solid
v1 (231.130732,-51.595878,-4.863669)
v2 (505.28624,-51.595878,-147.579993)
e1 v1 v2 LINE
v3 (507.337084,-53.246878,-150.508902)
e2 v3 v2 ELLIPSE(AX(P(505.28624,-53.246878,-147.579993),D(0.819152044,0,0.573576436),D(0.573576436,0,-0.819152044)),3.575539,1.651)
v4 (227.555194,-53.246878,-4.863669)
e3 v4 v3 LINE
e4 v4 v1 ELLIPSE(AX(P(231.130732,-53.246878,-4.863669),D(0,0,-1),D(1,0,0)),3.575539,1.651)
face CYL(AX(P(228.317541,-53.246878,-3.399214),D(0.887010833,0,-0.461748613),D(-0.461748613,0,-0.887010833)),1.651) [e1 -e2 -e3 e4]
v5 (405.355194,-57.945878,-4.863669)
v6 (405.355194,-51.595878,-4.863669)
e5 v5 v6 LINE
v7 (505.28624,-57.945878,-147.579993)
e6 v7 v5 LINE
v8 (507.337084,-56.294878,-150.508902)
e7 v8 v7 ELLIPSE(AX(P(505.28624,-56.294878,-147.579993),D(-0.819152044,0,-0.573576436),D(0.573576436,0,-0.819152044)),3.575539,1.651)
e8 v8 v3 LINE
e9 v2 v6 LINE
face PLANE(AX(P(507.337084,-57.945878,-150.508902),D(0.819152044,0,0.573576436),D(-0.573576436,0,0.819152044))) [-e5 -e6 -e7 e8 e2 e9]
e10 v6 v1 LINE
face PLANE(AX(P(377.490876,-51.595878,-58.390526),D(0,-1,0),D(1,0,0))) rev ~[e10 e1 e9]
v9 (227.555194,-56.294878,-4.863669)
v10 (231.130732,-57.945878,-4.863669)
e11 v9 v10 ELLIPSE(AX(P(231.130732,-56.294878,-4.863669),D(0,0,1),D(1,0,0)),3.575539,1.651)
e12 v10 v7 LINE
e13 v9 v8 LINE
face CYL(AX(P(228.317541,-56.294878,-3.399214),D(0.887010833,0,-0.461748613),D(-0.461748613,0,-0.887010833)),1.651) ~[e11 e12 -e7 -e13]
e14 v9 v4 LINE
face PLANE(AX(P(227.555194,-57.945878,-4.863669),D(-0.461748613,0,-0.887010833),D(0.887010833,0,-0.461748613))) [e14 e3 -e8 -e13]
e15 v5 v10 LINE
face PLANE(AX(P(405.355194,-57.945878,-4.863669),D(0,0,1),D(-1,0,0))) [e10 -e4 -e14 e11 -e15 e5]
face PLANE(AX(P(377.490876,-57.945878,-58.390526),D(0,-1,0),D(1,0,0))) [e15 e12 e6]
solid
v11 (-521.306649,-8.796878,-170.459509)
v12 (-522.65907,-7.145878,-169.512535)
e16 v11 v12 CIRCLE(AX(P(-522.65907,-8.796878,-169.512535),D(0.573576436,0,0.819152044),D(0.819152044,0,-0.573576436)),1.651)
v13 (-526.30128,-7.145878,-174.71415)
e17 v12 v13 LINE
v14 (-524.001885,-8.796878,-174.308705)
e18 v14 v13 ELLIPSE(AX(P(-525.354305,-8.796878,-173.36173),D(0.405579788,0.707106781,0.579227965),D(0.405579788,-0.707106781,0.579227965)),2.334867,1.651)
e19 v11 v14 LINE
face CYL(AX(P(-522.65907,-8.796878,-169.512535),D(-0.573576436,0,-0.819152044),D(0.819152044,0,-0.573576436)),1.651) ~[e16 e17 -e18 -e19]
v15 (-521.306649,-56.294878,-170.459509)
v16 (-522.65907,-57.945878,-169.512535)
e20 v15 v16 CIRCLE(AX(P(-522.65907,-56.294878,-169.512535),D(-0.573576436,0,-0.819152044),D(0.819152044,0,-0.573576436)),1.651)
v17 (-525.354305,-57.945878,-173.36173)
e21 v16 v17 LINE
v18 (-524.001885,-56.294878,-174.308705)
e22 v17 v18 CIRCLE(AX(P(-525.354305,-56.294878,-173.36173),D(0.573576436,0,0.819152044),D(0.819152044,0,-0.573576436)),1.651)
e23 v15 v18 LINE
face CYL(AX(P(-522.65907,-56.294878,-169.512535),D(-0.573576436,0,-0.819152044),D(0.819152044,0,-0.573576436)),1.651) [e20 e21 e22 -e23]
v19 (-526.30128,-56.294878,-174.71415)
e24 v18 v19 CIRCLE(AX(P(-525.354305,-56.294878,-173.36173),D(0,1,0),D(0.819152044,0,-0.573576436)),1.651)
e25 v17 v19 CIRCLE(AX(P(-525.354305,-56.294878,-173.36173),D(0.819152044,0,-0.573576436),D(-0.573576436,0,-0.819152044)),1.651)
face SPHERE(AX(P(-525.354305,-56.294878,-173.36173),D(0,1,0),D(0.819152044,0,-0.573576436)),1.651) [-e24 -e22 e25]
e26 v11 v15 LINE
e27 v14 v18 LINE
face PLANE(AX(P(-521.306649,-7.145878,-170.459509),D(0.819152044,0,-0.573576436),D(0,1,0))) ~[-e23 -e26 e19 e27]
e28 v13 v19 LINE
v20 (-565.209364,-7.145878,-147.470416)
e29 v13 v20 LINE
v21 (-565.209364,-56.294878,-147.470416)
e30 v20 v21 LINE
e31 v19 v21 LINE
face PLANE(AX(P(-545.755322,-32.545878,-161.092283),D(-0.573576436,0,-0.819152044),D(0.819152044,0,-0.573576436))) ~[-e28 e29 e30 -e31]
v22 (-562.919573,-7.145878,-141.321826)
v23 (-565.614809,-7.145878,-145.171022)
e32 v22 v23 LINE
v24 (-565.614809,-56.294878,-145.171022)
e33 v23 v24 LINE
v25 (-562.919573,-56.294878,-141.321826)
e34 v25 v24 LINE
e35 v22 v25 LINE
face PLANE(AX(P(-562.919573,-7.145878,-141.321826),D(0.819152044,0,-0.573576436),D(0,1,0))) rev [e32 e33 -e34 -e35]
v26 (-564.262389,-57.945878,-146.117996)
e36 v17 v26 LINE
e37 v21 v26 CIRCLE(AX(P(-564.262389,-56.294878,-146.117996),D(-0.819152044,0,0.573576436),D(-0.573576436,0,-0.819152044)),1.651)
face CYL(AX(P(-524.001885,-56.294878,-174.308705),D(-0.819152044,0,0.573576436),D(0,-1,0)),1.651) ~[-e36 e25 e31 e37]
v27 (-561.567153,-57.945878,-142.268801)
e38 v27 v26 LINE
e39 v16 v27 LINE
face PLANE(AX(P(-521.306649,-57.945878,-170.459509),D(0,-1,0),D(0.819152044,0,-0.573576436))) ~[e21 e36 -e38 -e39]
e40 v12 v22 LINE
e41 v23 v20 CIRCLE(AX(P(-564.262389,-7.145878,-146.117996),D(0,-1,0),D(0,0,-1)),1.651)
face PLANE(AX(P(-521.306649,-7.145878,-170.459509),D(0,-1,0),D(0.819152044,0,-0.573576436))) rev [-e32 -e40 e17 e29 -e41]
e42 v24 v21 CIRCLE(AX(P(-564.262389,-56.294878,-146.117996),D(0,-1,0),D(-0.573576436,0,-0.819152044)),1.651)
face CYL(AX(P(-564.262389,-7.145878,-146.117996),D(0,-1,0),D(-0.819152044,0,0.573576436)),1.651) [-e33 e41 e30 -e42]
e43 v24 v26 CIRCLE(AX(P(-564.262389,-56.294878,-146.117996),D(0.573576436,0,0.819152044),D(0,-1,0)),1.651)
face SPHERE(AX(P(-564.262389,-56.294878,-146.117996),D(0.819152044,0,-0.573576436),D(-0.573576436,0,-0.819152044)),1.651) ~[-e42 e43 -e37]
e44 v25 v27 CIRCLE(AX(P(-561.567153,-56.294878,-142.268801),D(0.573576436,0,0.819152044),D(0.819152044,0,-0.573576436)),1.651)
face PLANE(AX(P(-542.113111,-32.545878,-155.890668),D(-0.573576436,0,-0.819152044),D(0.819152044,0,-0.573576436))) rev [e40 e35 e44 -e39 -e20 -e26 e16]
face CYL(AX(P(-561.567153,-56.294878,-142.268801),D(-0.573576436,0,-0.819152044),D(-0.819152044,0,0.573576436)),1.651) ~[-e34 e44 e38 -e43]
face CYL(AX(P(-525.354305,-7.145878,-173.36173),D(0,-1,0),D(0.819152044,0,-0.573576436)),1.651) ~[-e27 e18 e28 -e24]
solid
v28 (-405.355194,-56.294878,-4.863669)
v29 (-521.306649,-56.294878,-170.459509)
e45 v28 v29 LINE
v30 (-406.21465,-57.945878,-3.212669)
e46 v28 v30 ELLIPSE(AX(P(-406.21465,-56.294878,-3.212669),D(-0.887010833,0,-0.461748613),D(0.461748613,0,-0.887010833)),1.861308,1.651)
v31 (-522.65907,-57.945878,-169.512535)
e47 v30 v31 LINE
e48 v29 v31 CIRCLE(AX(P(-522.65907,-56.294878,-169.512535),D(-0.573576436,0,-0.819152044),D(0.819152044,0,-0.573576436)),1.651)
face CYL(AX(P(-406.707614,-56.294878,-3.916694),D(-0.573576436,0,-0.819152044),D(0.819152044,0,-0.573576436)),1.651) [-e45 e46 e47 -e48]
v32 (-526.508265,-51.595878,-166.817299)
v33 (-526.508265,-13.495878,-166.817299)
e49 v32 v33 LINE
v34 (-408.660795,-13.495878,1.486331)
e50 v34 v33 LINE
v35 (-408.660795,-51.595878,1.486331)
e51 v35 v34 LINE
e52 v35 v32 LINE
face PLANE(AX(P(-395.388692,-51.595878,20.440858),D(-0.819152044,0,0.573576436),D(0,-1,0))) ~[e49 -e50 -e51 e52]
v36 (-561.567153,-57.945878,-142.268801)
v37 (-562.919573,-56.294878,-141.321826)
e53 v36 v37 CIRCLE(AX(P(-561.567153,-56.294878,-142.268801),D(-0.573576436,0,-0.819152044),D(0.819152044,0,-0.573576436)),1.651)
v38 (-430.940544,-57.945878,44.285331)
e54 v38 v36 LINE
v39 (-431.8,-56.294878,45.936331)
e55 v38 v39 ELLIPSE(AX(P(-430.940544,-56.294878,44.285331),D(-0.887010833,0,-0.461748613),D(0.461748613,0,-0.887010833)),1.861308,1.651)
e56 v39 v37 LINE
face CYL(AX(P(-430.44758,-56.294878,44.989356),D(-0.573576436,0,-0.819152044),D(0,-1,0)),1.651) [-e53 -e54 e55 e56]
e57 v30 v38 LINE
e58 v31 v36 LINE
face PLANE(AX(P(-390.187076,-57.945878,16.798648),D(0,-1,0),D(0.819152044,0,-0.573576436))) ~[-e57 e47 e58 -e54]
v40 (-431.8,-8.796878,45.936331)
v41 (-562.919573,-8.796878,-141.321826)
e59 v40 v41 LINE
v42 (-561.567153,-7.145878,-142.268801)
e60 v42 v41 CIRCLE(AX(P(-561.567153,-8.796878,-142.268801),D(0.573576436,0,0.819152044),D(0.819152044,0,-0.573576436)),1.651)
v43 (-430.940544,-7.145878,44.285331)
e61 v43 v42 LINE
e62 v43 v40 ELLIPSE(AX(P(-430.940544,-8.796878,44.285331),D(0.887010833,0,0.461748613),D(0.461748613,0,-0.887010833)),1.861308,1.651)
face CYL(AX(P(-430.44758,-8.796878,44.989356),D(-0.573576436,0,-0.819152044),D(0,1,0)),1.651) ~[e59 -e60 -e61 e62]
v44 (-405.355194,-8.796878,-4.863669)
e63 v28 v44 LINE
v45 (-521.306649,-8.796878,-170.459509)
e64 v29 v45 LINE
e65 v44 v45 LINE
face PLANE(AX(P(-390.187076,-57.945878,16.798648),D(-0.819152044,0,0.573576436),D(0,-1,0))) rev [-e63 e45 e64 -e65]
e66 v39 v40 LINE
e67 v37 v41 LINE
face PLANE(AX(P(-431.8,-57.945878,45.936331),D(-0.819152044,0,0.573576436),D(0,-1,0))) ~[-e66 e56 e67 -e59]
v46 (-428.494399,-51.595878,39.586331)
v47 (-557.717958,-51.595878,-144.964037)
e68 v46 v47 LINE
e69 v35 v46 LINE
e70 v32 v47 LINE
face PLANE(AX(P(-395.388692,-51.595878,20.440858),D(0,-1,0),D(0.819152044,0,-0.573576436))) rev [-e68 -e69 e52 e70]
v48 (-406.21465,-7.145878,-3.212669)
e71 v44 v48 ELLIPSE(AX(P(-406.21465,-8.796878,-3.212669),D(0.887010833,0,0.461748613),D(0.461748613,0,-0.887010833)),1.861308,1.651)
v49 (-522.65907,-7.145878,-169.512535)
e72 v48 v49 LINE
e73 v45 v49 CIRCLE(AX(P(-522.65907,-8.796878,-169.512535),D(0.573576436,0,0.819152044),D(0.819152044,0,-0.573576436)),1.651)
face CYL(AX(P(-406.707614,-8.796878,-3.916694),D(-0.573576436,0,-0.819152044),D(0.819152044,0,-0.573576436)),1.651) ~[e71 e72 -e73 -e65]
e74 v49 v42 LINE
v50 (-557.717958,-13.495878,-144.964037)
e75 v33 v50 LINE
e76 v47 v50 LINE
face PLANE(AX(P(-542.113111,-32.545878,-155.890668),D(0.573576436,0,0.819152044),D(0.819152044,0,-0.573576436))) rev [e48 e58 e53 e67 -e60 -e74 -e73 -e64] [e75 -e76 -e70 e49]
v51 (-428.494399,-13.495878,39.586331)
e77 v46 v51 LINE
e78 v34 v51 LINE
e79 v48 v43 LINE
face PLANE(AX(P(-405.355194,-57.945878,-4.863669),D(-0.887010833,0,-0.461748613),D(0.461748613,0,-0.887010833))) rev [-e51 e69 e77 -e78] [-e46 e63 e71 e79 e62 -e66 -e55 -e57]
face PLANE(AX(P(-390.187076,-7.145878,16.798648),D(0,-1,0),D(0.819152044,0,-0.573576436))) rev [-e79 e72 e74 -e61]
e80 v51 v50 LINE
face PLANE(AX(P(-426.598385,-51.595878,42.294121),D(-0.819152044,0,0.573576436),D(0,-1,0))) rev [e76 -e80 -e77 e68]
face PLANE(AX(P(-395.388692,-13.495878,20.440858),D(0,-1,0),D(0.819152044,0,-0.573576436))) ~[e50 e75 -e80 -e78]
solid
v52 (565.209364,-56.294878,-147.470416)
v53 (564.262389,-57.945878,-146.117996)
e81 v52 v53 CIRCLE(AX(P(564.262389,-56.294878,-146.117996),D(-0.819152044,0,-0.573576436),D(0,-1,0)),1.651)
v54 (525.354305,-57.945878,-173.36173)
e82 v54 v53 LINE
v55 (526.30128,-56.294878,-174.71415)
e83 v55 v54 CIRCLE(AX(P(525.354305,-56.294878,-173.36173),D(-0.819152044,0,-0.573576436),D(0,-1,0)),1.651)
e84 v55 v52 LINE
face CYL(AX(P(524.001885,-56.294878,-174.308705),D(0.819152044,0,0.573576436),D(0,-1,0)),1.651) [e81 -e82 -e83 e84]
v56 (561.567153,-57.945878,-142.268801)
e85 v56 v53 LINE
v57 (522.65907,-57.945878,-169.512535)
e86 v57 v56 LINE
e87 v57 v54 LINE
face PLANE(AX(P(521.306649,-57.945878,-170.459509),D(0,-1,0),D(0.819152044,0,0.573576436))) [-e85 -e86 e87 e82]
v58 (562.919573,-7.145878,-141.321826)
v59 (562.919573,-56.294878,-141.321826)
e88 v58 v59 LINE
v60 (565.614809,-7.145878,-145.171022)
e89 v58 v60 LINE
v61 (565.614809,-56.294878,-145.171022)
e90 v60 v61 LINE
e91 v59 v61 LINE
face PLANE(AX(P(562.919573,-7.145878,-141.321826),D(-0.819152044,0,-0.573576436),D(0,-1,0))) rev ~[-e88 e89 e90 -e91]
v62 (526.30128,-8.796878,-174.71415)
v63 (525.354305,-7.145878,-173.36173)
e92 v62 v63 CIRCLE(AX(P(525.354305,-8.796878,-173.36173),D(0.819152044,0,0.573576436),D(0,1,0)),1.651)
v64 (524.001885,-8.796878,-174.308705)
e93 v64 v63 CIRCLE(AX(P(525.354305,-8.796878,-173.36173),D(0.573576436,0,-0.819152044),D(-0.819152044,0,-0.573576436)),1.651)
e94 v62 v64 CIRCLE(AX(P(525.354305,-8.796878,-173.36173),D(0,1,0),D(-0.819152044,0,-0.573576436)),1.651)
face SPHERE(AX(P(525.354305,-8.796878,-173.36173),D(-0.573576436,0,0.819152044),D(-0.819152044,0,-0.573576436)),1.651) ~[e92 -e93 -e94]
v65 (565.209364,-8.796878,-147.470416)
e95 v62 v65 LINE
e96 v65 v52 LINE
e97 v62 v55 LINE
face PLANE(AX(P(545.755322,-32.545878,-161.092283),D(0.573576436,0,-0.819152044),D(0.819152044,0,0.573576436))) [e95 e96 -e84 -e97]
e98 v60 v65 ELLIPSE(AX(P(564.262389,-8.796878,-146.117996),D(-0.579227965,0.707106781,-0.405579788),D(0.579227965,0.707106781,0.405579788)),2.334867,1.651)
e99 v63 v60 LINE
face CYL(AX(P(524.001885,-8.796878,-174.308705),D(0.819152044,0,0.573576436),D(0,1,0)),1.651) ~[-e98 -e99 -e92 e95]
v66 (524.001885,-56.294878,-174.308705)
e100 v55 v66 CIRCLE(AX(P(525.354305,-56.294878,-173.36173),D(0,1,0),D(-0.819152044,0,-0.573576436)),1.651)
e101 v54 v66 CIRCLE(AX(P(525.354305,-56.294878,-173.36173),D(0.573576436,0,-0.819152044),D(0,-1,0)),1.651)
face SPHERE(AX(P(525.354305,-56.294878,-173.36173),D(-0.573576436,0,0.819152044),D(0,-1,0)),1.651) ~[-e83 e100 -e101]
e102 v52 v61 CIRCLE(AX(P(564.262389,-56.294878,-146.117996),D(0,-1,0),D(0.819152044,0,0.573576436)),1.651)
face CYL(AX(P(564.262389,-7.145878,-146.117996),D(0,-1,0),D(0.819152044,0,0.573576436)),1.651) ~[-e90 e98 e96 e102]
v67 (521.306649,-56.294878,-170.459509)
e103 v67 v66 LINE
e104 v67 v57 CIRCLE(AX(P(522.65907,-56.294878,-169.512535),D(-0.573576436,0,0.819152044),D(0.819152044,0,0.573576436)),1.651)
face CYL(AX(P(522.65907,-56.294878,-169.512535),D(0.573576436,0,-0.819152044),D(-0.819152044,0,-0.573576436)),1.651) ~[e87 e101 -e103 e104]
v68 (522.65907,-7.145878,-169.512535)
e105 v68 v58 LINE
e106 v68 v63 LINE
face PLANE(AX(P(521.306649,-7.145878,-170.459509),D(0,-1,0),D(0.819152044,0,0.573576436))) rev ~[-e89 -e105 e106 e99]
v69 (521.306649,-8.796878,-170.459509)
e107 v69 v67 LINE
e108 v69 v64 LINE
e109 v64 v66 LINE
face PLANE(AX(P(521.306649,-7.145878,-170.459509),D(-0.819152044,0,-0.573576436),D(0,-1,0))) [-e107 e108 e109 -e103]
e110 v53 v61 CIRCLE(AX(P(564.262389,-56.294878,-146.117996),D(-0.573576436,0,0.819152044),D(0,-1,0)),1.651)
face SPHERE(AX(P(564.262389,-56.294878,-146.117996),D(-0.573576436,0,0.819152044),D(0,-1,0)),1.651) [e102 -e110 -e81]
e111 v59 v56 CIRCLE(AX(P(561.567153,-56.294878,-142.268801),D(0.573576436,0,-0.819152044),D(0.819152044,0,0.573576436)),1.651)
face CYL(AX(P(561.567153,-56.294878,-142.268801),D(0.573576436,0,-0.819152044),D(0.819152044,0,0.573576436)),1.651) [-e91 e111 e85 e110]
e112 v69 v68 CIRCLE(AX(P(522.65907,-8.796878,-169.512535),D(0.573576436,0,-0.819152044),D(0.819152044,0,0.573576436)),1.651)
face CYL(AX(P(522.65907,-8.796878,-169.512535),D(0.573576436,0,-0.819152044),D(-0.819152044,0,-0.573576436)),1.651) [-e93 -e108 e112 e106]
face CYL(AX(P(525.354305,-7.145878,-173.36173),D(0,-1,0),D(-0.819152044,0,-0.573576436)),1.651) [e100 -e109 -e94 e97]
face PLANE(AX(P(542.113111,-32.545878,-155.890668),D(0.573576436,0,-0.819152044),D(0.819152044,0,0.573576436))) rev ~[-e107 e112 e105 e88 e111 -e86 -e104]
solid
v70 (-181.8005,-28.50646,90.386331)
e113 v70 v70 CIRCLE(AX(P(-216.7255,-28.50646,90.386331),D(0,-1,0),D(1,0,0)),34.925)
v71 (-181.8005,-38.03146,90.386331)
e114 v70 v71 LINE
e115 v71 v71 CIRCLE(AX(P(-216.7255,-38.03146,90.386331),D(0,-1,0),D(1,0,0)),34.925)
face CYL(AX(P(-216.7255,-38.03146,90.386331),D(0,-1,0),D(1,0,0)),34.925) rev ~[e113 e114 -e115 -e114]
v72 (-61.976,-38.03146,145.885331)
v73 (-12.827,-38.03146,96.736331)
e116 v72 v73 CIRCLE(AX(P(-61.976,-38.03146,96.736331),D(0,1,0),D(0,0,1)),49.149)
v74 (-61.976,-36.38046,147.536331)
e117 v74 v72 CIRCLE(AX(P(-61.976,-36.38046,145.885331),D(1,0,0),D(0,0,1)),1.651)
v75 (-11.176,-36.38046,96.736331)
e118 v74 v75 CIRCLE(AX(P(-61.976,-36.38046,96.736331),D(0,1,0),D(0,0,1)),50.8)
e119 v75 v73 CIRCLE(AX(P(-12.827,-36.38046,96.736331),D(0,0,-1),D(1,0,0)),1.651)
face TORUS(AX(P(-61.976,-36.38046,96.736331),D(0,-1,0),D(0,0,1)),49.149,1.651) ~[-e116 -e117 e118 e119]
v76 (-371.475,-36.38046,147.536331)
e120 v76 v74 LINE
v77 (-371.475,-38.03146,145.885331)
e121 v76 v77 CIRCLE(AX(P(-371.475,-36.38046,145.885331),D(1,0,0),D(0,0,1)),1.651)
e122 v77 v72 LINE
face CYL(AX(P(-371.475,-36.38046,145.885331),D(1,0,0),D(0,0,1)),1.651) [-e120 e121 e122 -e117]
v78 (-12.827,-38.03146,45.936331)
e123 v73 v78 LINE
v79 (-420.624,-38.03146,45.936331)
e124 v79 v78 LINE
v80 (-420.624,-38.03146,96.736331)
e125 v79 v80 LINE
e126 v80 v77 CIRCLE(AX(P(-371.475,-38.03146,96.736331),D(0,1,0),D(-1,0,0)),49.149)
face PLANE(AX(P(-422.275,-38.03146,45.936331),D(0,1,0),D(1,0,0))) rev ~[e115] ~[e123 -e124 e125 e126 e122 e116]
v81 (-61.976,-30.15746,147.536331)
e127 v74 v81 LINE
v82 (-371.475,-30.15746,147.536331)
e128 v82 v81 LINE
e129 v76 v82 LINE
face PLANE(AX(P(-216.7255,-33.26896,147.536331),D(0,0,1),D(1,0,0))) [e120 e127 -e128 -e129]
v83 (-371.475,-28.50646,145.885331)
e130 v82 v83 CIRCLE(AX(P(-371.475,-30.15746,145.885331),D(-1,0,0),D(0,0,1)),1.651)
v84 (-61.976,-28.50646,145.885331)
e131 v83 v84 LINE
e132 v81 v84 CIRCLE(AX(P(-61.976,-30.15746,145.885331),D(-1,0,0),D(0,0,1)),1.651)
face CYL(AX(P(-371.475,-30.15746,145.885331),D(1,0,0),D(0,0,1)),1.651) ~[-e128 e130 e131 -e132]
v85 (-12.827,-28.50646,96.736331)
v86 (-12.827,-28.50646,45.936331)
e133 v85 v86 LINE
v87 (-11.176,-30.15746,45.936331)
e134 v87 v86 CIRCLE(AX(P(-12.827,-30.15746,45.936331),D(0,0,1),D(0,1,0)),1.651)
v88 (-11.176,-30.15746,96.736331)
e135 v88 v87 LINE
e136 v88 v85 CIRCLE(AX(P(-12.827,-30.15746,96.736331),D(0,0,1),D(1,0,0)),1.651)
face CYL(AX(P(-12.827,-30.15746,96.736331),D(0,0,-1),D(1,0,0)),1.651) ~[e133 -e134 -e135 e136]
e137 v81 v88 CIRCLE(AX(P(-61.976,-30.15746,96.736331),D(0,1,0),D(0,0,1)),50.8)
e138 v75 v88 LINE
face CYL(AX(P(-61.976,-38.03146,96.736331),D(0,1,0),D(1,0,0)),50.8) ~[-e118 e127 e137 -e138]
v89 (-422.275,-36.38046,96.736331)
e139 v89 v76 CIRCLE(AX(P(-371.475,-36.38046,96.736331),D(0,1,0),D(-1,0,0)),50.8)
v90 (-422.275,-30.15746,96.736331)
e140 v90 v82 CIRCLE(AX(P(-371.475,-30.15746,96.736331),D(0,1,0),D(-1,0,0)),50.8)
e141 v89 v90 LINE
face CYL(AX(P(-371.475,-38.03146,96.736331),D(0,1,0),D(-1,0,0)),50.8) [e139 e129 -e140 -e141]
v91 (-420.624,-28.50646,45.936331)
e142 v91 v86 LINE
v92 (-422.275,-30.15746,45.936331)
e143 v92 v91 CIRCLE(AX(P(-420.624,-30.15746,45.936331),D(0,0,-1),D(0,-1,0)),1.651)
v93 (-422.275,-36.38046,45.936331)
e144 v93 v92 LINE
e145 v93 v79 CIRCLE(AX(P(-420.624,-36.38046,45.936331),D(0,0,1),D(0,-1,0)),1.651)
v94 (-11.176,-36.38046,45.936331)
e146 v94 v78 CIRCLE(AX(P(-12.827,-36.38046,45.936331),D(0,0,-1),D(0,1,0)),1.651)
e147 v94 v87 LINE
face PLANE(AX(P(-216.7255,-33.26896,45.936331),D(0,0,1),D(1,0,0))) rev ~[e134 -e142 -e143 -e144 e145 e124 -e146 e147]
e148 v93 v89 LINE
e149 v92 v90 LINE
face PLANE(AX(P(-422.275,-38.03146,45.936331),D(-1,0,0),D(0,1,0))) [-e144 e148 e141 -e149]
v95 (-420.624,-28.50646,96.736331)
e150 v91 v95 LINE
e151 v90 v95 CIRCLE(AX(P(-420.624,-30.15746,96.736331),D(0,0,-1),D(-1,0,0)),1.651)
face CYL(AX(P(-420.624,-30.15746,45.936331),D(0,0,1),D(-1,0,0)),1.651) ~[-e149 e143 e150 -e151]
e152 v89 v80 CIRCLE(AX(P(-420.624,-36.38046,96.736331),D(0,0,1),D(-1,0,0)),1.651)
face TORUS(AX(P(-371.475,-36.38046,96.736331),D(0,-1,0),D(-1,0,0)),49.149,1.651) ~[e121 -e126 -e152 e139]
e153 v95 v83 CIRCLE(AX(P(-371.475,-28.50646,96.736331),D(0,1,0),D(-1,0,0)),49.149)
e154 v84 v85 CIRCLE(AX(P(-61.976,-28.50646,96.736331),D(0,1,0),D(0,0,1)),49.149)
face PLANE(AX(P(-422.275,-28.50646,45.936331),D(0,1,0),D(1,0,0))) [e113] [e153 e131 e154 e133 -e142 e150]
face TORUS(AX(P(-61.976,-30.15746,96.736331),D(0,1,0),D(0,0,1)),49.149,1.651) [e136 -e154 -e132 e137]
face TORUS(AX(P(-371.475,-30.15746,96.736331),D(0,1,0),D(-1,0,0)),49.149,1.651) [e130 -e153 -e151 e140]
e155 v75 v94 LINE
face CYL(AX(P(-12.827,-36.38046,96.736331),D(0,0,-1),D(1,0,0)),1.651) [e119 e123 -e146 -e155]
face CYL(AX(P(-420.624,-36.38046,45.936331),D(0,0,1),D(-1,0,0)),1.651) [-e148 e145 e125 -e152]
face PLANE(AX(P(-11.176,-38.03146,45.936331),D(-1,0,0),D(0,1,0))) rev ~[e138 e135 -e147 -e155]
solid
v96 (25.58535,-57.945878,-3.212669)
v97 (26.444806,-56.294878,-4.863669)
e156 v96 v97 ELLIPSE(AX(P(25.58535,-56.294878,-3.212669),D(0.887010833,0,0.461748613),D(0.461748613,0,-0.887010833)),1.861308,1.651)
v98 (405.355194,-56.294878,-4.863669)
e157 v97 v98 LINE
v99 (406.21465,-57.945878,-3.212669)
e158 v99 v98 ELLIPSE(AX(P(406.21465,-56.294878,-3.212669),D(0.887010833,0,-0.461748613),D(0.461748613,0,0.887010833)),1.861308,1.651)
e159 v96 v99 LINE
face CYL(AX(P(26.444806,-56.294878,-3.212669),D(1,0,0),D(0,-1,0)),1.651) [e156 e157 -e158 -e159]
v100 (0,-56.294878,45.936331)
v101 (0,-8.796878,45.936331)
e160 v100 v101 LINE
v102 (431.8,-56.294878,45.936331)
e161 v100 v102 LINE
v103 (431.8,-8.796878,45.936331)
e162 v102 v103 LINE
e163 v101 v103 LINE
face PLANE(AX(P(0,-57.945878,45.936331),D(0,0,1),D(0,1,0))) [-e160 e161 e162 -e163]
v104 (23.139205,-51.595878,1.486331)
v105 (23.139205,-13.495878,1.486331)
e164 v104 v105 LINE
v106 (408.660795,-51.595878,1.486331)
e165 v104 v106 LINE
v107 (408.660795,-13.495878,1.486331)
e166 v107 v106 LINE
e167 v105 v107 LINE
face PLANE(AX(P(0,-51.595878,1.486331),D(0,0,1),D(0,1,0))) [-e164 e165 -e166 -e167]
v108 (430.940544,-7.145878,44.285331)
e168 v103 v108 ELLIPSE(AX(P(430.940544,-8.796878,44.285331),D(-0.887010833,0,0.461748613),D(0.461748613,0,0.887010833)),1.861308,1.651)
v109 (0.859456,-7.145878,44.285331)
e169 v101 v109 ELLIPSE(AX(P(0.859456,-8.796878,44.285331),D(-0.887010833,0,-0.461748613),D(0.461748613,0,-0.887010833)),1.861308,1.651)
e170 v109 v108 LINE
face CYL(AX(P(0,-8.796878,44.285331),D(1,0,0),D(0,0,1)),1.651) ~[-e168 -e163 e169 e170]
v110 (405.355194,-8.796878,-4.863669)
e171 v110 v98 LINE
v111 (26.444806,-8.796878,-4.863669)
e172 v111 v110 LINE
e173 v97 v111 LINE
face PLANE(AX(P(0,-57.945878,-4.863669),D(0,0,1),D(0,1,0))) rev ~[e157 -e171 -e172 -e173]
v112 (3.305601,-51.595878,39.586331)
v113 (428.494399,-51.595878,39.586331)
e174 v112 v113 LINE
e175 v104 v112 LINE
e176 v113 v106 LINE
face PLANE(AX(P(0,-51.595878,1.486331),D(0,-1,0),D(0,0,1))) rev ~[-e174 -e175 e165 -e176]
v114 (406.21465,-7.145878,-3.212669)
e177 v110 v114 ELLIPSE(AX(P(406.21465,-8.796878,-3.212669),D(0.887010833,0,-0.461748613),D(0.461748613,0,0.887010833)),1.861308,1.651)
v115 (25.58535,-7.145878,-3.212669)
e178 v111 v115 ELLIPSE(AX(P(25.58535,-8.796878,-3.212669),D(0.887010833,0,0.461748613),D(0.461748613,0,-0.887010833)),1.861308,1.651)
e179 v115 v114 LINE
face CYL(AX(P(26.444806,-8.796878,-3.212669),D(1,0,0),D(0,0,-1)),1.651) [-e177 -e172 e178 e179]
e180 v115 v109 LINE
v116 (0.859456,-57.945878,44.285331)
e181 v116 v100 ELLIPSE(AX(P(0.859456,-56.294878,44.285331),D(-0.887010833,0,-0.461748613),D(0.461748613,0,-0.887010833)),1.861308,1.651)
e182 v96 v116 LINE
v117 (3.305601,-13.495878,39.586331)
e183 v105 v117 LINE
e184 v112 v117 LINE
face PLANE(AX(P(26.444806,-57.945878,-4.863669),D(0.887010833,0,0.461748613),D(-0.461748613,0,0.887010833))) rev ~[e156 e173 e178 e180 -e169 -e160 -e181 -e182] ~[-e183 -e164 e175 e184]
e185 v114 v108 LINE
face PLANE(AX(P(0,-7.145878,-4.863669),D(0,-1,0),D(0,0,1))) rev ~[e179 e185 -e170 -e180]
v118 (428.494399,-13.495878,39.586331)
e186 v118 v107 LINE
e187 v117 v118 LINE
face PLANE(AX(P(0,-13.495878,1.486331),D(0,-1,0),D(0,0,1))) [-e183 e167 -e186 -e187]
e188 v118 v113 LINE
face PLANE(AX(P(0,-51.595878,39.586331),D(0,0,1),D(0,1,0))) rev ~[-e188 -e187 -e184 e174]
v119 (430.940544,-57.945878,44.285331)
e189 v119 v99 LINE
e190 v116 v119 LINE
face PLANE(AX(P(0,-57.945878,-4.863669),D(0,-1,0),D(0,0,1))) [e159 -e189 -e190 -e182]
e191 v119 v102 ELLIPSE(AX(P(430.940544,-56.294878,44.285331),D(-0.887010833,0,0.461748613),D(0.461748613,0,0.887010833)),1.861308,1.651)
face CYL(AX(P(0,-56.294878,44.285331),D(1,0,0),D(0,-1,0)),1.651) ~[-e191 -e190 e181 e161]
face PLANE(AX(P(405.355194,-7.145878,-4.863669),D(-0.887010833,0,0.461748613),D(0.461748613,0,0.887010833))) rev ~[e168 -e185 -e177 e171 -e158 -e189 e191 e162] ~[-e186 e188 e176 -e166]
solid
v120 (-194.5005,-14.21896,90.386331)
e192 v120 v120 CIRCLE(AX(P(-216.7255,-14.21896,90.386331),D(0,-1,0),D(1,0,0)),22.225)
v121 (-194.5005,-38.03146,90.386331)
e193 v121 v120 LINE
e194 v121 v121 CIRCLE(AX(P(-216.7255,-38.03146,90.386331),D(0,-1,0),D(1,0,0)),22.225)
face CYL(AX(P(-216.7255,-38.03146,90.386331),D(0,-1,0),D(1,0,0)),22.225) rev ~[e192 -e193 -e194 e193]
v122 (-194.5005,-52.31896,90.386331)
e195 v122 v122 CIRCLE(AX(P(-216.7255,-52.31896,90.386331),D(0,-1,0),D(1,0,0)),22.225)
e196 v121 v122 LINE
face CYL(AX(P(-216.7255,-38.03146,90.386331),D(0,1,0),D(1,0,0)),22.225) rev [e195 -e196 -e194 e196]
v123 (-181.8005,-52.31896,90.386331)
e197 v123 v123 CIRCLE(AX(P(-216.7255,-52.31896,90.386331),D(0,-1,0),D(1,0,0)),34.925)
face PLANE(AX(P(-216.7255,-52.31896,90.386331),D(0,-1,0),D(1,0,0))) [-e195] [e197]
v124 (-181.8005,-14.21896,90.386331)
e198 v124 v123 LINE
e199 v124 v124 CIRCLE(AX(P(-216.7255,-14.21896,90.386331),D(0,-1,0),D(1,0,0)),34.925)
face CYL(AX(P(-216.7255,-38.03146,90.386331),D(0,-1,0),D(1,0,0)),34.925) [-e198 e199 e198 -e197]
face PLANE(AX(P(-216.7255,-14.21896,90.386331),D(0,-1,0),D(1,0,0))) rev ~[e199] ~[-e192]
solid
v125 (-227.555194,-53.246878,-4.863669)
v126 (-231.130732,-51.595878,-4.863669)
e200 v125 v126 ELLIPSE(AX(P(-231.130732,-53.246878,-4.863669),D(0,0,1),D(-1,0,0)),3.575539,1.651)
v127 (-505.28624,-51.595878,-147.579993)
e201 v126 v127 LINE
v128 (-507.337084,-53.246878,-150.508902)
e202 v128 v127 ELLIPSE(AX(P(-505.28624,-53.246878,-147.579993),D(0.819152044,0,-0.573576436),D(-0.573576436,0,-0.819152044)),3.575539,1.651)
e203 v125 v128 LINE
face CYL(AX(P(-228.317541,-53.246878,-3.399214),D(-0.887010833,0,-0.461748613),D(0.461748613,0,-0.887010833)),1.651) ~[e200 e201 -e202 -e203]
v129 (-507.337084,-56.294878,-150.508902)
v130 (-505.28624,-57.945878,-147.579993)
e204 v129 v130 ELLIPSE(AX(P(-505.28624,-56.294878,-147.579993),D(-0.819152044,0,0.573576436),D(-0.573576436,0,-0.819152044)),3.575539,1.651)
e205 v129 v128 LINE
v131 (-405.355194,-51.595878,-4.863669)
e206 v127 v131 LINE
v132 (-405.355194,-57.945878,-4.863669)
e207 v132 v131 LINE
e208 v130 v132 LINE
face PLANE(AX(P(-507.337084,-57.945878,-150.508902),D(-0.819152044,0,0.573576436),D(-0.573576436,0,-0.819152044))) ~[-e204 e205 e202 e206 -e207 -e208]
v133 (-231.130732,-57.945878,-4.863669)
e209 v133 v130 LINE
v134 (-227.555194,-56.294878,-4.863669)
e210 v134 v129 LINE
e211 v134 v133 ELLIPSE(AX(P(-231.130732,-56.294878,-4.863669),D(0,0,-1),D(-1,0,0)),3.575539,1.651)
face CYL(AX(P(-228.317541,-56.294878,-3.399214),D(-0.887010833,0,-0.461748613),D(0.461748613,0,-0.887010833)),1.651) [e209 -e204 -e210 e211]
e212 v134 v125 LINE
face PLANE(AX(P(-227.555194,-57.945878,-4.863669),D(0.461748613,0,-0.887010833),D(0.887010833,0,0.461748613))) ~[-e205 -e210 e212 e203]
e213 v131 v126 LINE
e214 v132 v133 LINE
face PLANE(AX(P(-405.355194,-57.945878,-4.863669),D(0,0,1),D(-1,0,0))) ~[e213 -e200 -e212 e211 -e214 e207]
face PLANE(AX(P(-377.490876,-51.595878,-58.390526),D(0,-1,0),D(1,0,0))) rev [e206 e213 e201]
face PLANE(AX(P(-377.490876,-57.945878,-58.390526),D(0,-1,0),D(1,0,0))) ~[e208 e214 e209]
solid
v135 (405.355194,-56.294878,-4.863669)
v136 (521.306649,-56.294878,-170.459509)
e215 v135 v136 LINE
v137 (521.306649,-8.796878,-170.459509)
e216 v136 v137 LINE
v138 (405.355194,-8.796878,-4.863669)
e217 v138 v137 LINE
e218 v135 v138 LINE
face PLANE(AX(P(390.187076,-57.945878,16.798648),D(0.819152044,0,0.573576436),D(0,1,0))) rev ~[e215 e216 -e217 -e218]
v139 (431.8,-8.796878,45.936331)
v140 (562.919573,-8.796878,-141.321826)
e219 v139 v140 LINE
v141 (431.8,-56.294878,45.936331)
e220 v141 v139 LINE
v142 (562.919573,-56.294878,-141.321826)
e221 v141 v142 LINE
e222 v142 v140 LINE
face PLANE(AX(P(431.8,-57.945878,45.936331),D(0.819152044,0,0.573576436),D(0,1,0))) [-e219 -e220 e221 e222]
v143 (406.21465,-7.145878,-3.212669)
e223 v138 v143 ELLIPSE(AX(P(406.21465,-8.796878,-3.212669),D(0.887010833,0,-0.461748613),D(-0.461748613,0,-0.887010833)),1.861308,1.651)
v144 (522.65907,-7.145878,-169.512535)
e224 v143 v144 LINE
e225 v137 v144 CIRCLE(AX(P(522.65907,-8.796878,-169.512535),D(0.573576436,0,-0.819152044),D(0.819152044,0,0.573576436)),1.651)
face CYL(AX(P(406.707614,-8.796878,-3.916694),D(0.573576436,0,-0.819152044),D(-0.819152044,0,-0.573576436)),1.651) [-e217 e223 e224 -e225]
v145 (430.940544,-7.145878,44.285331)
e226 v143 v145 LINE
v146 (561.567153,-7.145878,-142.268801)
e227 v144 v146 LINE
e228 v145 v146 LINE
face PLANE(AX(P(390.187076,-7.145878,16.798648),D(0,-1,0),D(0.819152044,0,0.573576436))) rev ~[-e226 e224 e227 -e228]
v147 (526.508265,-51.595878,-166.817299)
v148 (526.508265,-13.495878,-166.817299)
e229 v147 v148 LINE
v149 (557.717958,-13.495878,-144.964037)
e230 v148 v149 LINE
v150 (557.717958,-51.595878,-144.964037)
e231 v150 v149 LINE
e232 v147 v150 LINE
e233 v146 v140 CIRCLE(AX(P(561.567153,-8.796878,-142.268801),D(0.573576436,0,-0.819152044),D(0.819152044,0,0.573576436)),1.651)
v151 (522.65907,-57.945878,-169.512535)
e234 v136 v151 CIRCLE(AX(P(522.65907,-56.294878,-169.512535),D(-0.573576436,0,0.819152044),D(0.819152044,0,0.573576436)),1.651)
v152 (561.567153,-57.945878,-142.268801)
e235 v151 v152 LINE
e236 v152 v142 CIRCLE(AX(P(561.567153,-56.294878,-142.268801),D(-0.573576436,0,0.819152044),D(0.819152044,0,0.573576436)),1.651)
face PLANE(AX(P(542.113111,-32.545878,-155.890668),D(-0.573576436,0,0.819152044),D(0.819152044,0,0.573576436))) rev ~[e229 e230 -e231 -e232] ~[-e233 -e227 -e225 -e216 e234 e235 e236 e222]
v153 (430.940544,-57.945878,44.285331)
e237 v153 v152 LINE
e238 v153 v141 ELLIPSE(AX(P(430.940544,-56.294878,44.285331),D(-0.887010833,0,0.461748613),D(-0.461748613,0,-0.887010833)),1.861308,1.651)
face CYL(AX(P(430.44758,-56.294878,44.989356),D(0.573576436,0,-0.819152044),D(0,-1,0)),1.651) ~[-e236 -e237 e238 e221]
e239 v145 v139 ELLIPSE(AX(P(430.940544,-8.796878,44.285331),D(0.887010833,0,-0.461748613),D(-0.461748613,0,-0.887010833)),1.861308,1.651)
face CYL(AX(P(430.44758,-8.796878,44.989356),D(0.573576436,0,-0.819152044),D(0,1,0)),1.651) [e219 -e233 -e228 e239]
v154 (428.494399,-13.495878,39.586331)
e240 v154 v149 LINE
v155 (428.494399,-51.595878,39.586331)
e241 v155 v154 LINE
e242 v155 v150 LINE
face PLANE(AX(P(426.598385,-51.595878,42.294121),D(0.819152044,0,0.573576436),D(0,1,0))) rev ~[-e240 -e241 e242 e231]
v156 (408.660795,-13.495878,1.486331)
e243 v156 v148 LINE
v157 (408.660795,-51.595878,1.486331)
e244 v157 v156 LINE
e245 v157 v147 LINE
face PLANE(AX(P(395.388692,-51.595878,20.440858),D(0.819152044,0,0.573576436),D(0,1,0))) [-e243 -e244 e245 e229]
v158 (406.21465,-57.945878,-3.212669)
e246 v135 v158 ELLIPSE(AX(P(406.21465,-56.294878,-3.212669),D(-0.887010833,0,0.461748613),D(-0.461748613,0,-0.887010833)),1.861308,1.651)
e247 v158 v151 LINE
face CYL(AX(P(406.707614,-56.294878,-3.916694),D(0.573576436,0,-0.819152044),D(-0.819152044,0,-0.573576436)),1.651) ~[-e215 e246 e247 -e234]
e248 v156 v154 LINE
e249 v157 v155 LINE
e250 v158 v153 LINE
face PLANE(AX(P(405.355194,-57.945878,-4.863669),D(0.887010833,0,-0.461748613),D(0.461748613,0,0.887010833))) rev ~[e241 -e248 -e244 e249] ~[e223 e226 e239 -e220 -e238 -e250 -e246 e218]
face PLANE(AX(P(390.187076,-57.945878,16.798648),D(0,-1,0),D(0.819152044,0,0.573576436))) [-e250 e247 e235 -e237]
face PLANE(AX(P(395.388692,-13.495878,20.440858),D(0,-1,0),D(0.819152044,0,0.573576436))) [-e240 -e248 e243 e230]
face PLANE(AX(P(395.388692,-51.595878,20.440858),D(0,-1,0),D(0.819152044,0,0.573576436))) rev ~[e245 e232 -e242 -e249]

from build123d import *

# Parameters (mm, degrees)
F0_W           = 50.8
F0_H           = 50.8
F0_W_2         = 38.1
F0_H_2         = 38.1
F1_DEPTH       = 431.8
F3_DEPTH       = 50.801
F6_W           = 50.8
F6_H           = 50.8
F6_W_2         = 38.1
F6_H_2         = 38.1
F7_DEPTH       = 228.6
F9_DEPTH       = 50.801
F11_DEPTH      = 6.35
F12_W          = 50.8
F12_H          = 50.8
F12_W_2        = 38.1
F12_H_2        = 38.1
F13_DEPTH      = 6.35
F15_W          = 411.099
F15_H          = 9.525
F16_DEPTH      = 101.6
F17_R          = 50.8
F18_R          = 22.225
F19_DEPTH      = 25.4
F20_R          = 34.925
F20_R_2        = 22.225
F21_DEPTH      = 14.2875
F21_DEPTH_BACK = 23.8125
F24_DEPTH      = 50.801
F26_R          = 1.651
F26_2_R        = 1.651
F26_3_R        = 1.651
F26_4_R        = 1.651
F26_5_R        = 1.651
F26_6_R        = 1.651
F26_7_R        = 1.651
F26_8_R        = 1.651


with BuildPart() as f1:
    # F0 (on Right) → F1 (new body)
    with BuildSketch(Plane.YZ):
        with Locations((-32.5458780862, 20.5363309942)):
            Rectangle(F0_W, F0_H)
        with Locations((-32.5458780862, 20.5363309942)):
            Rectangle(F0_W_2, F0_H_2, mode=Mode.SUBTRACT)
    extrude(amount=F1_DEPTH)

    # F2 (on face) → F3 (cut, through all)
    with BuildSketch(Plane(origin=(0, -7.1458780862, 0), x_dir=(-1, 0, 0), z_dir=(0, 1, 0))):
        Polygon((-405.355193832, -4.8636690058), (-431.8, 45.9363309942), (-431.8, -4.8636690058), align=None)
    extrude(amount=-F3_DEPTH, mode=Mode.SUBTRACT)


with BuildPart() as f7:
    # F6 (on face) → F7 (new body)
    with BuildSketch(Plane(origin=(120.4748354254, 0, -172.0558960753), x_dir=(0.8191520443, 0, 0.5735764364), z_dir=(-0.5735764364, 0, 0.8191520443))):
        with Locations((354.6578497547, -32.5458780862)):
            Rectangle(F6_W, F6_H)
        with Locations((354.6578497547, -32.5458780862)):
            Rectangle(F6_W_2, F6_H_2, mode=Mode.SUBTRACT)
    extrude(amount=-F7_DEPTH)

    # F8 (on face) → F9 (cut, through all)
    with BuildSketch(Plane.XZ.offset(57.9458780862)):
        Polygon((405.355193832, -4.8636690058), (431.8, 45.9363309942), (390.1870761501, 16.7986480276), align=None)
    extrude(amount=-F9_DEPTH, mode=Mode.SUBTRACT)


with BuildPart() as f11:
    # F10 (on face) → F11 (new body)
    with BuildSketch(Plane.XZ.offset(57.9458780862)):
        Polygon((405.355193832, -4.8636690058), (227.555193832, -4.8636690058), (507.3370842152, -150.5089024804), align=None)
    extrude(amount=-F11_DEPTH)


with BuildPart() as f13:
    # F12 (on face) → F13 (new body)
    with BuildSketch(Plane(origin=(251.5944087752, 0, -359.3140533998), x_dir=(0.8191520443, 0, 0.5735764364), z_dir=(0.5735764364, 0, -0.8191520443))):
        with Locations((354.6578497547, 32.5458780862)):
            Rectangle(F12_W, F12_H)
        with Locations((354.6578497547, 32.5458780862)):
            Rectangle(F12_W_2, F12_H_2, mode=Mode.SUBTRACT)
        with Locations((354.6578497547, 32.5458780862)):
            Rectangle(F12_W_2, F12_H_2)
    extrude(amount=F13_DEPTH)


with BuildPart() as f14_1:
    # F14: instance of F7
    add(f7.part.mirror(Plane(origin=(0, -32.5458780862, 20.5363309942), x_dir=(0, 1, 0), z_dir=(-1, 0, 0))))

    # F26#2
    f26_2_edges = [f14_1.edges().sort_by_distance(p)[0] for p in [
        (-463.330922, -7.145878, -87.661589),
        (-463.330922, -57.945878, -87.661589),
        (-497.359787, -57.945878, -47.692748),
        (-497.359787, -7.145878, -47.692748),
    ]]
    fillet(f26_2_edges, radius=F26_2_R)


with BuildPart() as f14_2:
    # F14: instance of F1
    add(f1.part.mirror(Plane(origin=(0, -32.5458780862, 20.5363309942), x_dir=(0, 1, 0), z_dir=(-1, 0, 0))))


with BuildPart() as f14_3:
    # F14: instance of F11
    add(f11.part.mirror(Plane(origin=(0, -32.5458780862, 20.5363309942), x_dir=(0, 1, 0), z_dir=(-1, 0, 0))))

    # F26
    f26_edges = [f14_3.edges().sort_by_distance(p)[0] for p in [
        (-367.446139, -57.945878, -77.686286),
        (-367.446139, -51.595878, -77.686286),
    ]]
    fillet(f26_edges, radius=F26_R)


with BuildPart() as f14_4:
    # F14: instance of F13
    add(f13.part.mirror(Plane(origin=(0, -32.5458780862, 20.5363309942), x_dir=(0, 1, 0), z_dir=(-1, 0, 0))))

    # F26#3
    f26_3_edges = [f14_4.edges().sort_by_distance(p)[0] for p in [
        (-524.94886, -32.545878, -175.661125),
        (-523.127755, -57.945878, -173.060317),
        (-545.755322, -57.945878, -161.092283),
        (-523.127755, -7.145878, -173.060317),
        (-566.561784, -32.545878, -146.523442),
        (-564.740679, -57.945878, -143.922634),
    ]]
    fillet(f26_3_edges, radius=F26_3_R)


with BuildPart() as f16:
    # F15 (on face) → F16 (new body)
    with BuildSketch(Plane.XY.offset(45.9363309942)):
        with Locations((-216.7255, -33.2689601928)):
            Rectangle(F15_W, F15_H)
    extrude(amount=F16_DEPTH)

    # F17
    f17_edges = [f16.edges().sort_by_distance(p)[0] for p in [
        (-422.275, -33.26896, 147.536331),
        (-11.176, -33.26896, 147.536331),
    ]]
    fillet(f17_edges, radius=F17_R)

    # F18 (on face) → F19 (cut)
    with BuildSketch(Plane.XZ.offset(38.0314601928)):
        with Locations((-216.7255, 90.3863309942)):
            Circle(F18_R)
    extrude(amount=-F19_DEPTH, mode=Mode.SUBTRACT)


with BuildPart() as f21:
    # F20 (on face) → F21 (new body, two sides)
    with BuildSketch(Plane.XZ.offset(38.0314601928)) as f21_sk:
        with Locations((-216.7255, 90.3863309942)):
            Circle(F20_R)
        with Locations((-216.7255, 90.3863309942)):
            Circle(F20_R_2, mode=Mode.SUBTRACT)
    extrude(amount=F21_DEPTH)
    extrude(f21_sk.sketch, amount=-F21_DEPTH_BACK)


with BuildPart() as f16_1:
    add(f16.part)

    # F22: cut F21
    add(f21.part, mode=Mode.SUBTRACT)

    # F26#4
    f26_4_edges = [f16_1.edges().sort_by_distance(p)[0] for p in [
        (-422.275, -28.50646, 71.336331),
        (-422.275, -38.03146, 71.336331),
        (-407.396024, -28.50646, 132.657355),
        (-407.396024, -38.03146, 132.657355),
    ]]
    fillet(f26_4_edges, radius=F26_4_R)


with BuildPart() as f1_1:
    add(f1.part)

    # F23 (on face) → F24 (cut, through all)
    with BuildSketch(Plane.XZ.offset(57.9458780862)):
        Polygon((26.444806168, -4.8636690058), (0, 45.9363309942), (0, -4.8636690058), align=None)
    extrude(amount=-F24_DEPTH, mode=Mode.SUBTRACT)

    # F26#5
    f26_5_edges = [f1_1.edges().sort_by_distance(p)[0] for p in [
        (215.9, -7.145878, -4.863669),
        (215.9, -7.145878, 45.936331),
        (215.9, -57.945878, 45.936331),
        (215.9, -57.945878, -4.863669),
    ]]
    fillet(f26_5_edges, radius=F26_5_R)


with BuildPart() as f11_1:
    add(f11.part)

    # F26#6
    f26_6_edges = [f11_1.edges().sort_by_distance(p)[0] for p in [
        (367.446139, -57.945878, -77.686286),
        (367.446139, -51.595878, -77.686286),
    ]]
    fillet(f26_6_edges, radius=F26_6_R)


with BuildPart() as f7_1:
    add(f7.part)

    # F26#7
    f26_7_edges = [f7_1.edges().sort_by_distance(p)[0] for p in [
        (463.330922, -57.945878, -87.661589),
        (497.359787, -57.945878, -47.692748),
        (463.330922, -7.145878, -87.661589),
        (497.359787, -7.145878, -47.692748),
    ]]
    fillet(f26_7_edges, radius=F26_7_R)


with BuildPart() as f13_1:
    add(f13.part)

    # F26#8
    f26_8_edges = [f13_1.edges().sort_by_distance(p)[0] for p in [
        (523.127755, -57.945878, -173.060317),
        (523.127755, -7.145878, -173.060317),
        (564.740679, -57.945878, -143.922634),
        (545.755322, -57.945878, -161.092283),
        (524.94886, -32.545878, -175.661125),
        (545.755322, -7.145878, -161.092283),
        (566.561784, -32.545878, -146.523442),
    ]]
    fillet(f26_8_edges, radius=F26_8_R)


solid = Compound([f14_1.part, f14_3.part, f14_4.part, f21.part, f16_1.part, f1_1.part, f11_1.part, f7_1.part, f13_1.part])
